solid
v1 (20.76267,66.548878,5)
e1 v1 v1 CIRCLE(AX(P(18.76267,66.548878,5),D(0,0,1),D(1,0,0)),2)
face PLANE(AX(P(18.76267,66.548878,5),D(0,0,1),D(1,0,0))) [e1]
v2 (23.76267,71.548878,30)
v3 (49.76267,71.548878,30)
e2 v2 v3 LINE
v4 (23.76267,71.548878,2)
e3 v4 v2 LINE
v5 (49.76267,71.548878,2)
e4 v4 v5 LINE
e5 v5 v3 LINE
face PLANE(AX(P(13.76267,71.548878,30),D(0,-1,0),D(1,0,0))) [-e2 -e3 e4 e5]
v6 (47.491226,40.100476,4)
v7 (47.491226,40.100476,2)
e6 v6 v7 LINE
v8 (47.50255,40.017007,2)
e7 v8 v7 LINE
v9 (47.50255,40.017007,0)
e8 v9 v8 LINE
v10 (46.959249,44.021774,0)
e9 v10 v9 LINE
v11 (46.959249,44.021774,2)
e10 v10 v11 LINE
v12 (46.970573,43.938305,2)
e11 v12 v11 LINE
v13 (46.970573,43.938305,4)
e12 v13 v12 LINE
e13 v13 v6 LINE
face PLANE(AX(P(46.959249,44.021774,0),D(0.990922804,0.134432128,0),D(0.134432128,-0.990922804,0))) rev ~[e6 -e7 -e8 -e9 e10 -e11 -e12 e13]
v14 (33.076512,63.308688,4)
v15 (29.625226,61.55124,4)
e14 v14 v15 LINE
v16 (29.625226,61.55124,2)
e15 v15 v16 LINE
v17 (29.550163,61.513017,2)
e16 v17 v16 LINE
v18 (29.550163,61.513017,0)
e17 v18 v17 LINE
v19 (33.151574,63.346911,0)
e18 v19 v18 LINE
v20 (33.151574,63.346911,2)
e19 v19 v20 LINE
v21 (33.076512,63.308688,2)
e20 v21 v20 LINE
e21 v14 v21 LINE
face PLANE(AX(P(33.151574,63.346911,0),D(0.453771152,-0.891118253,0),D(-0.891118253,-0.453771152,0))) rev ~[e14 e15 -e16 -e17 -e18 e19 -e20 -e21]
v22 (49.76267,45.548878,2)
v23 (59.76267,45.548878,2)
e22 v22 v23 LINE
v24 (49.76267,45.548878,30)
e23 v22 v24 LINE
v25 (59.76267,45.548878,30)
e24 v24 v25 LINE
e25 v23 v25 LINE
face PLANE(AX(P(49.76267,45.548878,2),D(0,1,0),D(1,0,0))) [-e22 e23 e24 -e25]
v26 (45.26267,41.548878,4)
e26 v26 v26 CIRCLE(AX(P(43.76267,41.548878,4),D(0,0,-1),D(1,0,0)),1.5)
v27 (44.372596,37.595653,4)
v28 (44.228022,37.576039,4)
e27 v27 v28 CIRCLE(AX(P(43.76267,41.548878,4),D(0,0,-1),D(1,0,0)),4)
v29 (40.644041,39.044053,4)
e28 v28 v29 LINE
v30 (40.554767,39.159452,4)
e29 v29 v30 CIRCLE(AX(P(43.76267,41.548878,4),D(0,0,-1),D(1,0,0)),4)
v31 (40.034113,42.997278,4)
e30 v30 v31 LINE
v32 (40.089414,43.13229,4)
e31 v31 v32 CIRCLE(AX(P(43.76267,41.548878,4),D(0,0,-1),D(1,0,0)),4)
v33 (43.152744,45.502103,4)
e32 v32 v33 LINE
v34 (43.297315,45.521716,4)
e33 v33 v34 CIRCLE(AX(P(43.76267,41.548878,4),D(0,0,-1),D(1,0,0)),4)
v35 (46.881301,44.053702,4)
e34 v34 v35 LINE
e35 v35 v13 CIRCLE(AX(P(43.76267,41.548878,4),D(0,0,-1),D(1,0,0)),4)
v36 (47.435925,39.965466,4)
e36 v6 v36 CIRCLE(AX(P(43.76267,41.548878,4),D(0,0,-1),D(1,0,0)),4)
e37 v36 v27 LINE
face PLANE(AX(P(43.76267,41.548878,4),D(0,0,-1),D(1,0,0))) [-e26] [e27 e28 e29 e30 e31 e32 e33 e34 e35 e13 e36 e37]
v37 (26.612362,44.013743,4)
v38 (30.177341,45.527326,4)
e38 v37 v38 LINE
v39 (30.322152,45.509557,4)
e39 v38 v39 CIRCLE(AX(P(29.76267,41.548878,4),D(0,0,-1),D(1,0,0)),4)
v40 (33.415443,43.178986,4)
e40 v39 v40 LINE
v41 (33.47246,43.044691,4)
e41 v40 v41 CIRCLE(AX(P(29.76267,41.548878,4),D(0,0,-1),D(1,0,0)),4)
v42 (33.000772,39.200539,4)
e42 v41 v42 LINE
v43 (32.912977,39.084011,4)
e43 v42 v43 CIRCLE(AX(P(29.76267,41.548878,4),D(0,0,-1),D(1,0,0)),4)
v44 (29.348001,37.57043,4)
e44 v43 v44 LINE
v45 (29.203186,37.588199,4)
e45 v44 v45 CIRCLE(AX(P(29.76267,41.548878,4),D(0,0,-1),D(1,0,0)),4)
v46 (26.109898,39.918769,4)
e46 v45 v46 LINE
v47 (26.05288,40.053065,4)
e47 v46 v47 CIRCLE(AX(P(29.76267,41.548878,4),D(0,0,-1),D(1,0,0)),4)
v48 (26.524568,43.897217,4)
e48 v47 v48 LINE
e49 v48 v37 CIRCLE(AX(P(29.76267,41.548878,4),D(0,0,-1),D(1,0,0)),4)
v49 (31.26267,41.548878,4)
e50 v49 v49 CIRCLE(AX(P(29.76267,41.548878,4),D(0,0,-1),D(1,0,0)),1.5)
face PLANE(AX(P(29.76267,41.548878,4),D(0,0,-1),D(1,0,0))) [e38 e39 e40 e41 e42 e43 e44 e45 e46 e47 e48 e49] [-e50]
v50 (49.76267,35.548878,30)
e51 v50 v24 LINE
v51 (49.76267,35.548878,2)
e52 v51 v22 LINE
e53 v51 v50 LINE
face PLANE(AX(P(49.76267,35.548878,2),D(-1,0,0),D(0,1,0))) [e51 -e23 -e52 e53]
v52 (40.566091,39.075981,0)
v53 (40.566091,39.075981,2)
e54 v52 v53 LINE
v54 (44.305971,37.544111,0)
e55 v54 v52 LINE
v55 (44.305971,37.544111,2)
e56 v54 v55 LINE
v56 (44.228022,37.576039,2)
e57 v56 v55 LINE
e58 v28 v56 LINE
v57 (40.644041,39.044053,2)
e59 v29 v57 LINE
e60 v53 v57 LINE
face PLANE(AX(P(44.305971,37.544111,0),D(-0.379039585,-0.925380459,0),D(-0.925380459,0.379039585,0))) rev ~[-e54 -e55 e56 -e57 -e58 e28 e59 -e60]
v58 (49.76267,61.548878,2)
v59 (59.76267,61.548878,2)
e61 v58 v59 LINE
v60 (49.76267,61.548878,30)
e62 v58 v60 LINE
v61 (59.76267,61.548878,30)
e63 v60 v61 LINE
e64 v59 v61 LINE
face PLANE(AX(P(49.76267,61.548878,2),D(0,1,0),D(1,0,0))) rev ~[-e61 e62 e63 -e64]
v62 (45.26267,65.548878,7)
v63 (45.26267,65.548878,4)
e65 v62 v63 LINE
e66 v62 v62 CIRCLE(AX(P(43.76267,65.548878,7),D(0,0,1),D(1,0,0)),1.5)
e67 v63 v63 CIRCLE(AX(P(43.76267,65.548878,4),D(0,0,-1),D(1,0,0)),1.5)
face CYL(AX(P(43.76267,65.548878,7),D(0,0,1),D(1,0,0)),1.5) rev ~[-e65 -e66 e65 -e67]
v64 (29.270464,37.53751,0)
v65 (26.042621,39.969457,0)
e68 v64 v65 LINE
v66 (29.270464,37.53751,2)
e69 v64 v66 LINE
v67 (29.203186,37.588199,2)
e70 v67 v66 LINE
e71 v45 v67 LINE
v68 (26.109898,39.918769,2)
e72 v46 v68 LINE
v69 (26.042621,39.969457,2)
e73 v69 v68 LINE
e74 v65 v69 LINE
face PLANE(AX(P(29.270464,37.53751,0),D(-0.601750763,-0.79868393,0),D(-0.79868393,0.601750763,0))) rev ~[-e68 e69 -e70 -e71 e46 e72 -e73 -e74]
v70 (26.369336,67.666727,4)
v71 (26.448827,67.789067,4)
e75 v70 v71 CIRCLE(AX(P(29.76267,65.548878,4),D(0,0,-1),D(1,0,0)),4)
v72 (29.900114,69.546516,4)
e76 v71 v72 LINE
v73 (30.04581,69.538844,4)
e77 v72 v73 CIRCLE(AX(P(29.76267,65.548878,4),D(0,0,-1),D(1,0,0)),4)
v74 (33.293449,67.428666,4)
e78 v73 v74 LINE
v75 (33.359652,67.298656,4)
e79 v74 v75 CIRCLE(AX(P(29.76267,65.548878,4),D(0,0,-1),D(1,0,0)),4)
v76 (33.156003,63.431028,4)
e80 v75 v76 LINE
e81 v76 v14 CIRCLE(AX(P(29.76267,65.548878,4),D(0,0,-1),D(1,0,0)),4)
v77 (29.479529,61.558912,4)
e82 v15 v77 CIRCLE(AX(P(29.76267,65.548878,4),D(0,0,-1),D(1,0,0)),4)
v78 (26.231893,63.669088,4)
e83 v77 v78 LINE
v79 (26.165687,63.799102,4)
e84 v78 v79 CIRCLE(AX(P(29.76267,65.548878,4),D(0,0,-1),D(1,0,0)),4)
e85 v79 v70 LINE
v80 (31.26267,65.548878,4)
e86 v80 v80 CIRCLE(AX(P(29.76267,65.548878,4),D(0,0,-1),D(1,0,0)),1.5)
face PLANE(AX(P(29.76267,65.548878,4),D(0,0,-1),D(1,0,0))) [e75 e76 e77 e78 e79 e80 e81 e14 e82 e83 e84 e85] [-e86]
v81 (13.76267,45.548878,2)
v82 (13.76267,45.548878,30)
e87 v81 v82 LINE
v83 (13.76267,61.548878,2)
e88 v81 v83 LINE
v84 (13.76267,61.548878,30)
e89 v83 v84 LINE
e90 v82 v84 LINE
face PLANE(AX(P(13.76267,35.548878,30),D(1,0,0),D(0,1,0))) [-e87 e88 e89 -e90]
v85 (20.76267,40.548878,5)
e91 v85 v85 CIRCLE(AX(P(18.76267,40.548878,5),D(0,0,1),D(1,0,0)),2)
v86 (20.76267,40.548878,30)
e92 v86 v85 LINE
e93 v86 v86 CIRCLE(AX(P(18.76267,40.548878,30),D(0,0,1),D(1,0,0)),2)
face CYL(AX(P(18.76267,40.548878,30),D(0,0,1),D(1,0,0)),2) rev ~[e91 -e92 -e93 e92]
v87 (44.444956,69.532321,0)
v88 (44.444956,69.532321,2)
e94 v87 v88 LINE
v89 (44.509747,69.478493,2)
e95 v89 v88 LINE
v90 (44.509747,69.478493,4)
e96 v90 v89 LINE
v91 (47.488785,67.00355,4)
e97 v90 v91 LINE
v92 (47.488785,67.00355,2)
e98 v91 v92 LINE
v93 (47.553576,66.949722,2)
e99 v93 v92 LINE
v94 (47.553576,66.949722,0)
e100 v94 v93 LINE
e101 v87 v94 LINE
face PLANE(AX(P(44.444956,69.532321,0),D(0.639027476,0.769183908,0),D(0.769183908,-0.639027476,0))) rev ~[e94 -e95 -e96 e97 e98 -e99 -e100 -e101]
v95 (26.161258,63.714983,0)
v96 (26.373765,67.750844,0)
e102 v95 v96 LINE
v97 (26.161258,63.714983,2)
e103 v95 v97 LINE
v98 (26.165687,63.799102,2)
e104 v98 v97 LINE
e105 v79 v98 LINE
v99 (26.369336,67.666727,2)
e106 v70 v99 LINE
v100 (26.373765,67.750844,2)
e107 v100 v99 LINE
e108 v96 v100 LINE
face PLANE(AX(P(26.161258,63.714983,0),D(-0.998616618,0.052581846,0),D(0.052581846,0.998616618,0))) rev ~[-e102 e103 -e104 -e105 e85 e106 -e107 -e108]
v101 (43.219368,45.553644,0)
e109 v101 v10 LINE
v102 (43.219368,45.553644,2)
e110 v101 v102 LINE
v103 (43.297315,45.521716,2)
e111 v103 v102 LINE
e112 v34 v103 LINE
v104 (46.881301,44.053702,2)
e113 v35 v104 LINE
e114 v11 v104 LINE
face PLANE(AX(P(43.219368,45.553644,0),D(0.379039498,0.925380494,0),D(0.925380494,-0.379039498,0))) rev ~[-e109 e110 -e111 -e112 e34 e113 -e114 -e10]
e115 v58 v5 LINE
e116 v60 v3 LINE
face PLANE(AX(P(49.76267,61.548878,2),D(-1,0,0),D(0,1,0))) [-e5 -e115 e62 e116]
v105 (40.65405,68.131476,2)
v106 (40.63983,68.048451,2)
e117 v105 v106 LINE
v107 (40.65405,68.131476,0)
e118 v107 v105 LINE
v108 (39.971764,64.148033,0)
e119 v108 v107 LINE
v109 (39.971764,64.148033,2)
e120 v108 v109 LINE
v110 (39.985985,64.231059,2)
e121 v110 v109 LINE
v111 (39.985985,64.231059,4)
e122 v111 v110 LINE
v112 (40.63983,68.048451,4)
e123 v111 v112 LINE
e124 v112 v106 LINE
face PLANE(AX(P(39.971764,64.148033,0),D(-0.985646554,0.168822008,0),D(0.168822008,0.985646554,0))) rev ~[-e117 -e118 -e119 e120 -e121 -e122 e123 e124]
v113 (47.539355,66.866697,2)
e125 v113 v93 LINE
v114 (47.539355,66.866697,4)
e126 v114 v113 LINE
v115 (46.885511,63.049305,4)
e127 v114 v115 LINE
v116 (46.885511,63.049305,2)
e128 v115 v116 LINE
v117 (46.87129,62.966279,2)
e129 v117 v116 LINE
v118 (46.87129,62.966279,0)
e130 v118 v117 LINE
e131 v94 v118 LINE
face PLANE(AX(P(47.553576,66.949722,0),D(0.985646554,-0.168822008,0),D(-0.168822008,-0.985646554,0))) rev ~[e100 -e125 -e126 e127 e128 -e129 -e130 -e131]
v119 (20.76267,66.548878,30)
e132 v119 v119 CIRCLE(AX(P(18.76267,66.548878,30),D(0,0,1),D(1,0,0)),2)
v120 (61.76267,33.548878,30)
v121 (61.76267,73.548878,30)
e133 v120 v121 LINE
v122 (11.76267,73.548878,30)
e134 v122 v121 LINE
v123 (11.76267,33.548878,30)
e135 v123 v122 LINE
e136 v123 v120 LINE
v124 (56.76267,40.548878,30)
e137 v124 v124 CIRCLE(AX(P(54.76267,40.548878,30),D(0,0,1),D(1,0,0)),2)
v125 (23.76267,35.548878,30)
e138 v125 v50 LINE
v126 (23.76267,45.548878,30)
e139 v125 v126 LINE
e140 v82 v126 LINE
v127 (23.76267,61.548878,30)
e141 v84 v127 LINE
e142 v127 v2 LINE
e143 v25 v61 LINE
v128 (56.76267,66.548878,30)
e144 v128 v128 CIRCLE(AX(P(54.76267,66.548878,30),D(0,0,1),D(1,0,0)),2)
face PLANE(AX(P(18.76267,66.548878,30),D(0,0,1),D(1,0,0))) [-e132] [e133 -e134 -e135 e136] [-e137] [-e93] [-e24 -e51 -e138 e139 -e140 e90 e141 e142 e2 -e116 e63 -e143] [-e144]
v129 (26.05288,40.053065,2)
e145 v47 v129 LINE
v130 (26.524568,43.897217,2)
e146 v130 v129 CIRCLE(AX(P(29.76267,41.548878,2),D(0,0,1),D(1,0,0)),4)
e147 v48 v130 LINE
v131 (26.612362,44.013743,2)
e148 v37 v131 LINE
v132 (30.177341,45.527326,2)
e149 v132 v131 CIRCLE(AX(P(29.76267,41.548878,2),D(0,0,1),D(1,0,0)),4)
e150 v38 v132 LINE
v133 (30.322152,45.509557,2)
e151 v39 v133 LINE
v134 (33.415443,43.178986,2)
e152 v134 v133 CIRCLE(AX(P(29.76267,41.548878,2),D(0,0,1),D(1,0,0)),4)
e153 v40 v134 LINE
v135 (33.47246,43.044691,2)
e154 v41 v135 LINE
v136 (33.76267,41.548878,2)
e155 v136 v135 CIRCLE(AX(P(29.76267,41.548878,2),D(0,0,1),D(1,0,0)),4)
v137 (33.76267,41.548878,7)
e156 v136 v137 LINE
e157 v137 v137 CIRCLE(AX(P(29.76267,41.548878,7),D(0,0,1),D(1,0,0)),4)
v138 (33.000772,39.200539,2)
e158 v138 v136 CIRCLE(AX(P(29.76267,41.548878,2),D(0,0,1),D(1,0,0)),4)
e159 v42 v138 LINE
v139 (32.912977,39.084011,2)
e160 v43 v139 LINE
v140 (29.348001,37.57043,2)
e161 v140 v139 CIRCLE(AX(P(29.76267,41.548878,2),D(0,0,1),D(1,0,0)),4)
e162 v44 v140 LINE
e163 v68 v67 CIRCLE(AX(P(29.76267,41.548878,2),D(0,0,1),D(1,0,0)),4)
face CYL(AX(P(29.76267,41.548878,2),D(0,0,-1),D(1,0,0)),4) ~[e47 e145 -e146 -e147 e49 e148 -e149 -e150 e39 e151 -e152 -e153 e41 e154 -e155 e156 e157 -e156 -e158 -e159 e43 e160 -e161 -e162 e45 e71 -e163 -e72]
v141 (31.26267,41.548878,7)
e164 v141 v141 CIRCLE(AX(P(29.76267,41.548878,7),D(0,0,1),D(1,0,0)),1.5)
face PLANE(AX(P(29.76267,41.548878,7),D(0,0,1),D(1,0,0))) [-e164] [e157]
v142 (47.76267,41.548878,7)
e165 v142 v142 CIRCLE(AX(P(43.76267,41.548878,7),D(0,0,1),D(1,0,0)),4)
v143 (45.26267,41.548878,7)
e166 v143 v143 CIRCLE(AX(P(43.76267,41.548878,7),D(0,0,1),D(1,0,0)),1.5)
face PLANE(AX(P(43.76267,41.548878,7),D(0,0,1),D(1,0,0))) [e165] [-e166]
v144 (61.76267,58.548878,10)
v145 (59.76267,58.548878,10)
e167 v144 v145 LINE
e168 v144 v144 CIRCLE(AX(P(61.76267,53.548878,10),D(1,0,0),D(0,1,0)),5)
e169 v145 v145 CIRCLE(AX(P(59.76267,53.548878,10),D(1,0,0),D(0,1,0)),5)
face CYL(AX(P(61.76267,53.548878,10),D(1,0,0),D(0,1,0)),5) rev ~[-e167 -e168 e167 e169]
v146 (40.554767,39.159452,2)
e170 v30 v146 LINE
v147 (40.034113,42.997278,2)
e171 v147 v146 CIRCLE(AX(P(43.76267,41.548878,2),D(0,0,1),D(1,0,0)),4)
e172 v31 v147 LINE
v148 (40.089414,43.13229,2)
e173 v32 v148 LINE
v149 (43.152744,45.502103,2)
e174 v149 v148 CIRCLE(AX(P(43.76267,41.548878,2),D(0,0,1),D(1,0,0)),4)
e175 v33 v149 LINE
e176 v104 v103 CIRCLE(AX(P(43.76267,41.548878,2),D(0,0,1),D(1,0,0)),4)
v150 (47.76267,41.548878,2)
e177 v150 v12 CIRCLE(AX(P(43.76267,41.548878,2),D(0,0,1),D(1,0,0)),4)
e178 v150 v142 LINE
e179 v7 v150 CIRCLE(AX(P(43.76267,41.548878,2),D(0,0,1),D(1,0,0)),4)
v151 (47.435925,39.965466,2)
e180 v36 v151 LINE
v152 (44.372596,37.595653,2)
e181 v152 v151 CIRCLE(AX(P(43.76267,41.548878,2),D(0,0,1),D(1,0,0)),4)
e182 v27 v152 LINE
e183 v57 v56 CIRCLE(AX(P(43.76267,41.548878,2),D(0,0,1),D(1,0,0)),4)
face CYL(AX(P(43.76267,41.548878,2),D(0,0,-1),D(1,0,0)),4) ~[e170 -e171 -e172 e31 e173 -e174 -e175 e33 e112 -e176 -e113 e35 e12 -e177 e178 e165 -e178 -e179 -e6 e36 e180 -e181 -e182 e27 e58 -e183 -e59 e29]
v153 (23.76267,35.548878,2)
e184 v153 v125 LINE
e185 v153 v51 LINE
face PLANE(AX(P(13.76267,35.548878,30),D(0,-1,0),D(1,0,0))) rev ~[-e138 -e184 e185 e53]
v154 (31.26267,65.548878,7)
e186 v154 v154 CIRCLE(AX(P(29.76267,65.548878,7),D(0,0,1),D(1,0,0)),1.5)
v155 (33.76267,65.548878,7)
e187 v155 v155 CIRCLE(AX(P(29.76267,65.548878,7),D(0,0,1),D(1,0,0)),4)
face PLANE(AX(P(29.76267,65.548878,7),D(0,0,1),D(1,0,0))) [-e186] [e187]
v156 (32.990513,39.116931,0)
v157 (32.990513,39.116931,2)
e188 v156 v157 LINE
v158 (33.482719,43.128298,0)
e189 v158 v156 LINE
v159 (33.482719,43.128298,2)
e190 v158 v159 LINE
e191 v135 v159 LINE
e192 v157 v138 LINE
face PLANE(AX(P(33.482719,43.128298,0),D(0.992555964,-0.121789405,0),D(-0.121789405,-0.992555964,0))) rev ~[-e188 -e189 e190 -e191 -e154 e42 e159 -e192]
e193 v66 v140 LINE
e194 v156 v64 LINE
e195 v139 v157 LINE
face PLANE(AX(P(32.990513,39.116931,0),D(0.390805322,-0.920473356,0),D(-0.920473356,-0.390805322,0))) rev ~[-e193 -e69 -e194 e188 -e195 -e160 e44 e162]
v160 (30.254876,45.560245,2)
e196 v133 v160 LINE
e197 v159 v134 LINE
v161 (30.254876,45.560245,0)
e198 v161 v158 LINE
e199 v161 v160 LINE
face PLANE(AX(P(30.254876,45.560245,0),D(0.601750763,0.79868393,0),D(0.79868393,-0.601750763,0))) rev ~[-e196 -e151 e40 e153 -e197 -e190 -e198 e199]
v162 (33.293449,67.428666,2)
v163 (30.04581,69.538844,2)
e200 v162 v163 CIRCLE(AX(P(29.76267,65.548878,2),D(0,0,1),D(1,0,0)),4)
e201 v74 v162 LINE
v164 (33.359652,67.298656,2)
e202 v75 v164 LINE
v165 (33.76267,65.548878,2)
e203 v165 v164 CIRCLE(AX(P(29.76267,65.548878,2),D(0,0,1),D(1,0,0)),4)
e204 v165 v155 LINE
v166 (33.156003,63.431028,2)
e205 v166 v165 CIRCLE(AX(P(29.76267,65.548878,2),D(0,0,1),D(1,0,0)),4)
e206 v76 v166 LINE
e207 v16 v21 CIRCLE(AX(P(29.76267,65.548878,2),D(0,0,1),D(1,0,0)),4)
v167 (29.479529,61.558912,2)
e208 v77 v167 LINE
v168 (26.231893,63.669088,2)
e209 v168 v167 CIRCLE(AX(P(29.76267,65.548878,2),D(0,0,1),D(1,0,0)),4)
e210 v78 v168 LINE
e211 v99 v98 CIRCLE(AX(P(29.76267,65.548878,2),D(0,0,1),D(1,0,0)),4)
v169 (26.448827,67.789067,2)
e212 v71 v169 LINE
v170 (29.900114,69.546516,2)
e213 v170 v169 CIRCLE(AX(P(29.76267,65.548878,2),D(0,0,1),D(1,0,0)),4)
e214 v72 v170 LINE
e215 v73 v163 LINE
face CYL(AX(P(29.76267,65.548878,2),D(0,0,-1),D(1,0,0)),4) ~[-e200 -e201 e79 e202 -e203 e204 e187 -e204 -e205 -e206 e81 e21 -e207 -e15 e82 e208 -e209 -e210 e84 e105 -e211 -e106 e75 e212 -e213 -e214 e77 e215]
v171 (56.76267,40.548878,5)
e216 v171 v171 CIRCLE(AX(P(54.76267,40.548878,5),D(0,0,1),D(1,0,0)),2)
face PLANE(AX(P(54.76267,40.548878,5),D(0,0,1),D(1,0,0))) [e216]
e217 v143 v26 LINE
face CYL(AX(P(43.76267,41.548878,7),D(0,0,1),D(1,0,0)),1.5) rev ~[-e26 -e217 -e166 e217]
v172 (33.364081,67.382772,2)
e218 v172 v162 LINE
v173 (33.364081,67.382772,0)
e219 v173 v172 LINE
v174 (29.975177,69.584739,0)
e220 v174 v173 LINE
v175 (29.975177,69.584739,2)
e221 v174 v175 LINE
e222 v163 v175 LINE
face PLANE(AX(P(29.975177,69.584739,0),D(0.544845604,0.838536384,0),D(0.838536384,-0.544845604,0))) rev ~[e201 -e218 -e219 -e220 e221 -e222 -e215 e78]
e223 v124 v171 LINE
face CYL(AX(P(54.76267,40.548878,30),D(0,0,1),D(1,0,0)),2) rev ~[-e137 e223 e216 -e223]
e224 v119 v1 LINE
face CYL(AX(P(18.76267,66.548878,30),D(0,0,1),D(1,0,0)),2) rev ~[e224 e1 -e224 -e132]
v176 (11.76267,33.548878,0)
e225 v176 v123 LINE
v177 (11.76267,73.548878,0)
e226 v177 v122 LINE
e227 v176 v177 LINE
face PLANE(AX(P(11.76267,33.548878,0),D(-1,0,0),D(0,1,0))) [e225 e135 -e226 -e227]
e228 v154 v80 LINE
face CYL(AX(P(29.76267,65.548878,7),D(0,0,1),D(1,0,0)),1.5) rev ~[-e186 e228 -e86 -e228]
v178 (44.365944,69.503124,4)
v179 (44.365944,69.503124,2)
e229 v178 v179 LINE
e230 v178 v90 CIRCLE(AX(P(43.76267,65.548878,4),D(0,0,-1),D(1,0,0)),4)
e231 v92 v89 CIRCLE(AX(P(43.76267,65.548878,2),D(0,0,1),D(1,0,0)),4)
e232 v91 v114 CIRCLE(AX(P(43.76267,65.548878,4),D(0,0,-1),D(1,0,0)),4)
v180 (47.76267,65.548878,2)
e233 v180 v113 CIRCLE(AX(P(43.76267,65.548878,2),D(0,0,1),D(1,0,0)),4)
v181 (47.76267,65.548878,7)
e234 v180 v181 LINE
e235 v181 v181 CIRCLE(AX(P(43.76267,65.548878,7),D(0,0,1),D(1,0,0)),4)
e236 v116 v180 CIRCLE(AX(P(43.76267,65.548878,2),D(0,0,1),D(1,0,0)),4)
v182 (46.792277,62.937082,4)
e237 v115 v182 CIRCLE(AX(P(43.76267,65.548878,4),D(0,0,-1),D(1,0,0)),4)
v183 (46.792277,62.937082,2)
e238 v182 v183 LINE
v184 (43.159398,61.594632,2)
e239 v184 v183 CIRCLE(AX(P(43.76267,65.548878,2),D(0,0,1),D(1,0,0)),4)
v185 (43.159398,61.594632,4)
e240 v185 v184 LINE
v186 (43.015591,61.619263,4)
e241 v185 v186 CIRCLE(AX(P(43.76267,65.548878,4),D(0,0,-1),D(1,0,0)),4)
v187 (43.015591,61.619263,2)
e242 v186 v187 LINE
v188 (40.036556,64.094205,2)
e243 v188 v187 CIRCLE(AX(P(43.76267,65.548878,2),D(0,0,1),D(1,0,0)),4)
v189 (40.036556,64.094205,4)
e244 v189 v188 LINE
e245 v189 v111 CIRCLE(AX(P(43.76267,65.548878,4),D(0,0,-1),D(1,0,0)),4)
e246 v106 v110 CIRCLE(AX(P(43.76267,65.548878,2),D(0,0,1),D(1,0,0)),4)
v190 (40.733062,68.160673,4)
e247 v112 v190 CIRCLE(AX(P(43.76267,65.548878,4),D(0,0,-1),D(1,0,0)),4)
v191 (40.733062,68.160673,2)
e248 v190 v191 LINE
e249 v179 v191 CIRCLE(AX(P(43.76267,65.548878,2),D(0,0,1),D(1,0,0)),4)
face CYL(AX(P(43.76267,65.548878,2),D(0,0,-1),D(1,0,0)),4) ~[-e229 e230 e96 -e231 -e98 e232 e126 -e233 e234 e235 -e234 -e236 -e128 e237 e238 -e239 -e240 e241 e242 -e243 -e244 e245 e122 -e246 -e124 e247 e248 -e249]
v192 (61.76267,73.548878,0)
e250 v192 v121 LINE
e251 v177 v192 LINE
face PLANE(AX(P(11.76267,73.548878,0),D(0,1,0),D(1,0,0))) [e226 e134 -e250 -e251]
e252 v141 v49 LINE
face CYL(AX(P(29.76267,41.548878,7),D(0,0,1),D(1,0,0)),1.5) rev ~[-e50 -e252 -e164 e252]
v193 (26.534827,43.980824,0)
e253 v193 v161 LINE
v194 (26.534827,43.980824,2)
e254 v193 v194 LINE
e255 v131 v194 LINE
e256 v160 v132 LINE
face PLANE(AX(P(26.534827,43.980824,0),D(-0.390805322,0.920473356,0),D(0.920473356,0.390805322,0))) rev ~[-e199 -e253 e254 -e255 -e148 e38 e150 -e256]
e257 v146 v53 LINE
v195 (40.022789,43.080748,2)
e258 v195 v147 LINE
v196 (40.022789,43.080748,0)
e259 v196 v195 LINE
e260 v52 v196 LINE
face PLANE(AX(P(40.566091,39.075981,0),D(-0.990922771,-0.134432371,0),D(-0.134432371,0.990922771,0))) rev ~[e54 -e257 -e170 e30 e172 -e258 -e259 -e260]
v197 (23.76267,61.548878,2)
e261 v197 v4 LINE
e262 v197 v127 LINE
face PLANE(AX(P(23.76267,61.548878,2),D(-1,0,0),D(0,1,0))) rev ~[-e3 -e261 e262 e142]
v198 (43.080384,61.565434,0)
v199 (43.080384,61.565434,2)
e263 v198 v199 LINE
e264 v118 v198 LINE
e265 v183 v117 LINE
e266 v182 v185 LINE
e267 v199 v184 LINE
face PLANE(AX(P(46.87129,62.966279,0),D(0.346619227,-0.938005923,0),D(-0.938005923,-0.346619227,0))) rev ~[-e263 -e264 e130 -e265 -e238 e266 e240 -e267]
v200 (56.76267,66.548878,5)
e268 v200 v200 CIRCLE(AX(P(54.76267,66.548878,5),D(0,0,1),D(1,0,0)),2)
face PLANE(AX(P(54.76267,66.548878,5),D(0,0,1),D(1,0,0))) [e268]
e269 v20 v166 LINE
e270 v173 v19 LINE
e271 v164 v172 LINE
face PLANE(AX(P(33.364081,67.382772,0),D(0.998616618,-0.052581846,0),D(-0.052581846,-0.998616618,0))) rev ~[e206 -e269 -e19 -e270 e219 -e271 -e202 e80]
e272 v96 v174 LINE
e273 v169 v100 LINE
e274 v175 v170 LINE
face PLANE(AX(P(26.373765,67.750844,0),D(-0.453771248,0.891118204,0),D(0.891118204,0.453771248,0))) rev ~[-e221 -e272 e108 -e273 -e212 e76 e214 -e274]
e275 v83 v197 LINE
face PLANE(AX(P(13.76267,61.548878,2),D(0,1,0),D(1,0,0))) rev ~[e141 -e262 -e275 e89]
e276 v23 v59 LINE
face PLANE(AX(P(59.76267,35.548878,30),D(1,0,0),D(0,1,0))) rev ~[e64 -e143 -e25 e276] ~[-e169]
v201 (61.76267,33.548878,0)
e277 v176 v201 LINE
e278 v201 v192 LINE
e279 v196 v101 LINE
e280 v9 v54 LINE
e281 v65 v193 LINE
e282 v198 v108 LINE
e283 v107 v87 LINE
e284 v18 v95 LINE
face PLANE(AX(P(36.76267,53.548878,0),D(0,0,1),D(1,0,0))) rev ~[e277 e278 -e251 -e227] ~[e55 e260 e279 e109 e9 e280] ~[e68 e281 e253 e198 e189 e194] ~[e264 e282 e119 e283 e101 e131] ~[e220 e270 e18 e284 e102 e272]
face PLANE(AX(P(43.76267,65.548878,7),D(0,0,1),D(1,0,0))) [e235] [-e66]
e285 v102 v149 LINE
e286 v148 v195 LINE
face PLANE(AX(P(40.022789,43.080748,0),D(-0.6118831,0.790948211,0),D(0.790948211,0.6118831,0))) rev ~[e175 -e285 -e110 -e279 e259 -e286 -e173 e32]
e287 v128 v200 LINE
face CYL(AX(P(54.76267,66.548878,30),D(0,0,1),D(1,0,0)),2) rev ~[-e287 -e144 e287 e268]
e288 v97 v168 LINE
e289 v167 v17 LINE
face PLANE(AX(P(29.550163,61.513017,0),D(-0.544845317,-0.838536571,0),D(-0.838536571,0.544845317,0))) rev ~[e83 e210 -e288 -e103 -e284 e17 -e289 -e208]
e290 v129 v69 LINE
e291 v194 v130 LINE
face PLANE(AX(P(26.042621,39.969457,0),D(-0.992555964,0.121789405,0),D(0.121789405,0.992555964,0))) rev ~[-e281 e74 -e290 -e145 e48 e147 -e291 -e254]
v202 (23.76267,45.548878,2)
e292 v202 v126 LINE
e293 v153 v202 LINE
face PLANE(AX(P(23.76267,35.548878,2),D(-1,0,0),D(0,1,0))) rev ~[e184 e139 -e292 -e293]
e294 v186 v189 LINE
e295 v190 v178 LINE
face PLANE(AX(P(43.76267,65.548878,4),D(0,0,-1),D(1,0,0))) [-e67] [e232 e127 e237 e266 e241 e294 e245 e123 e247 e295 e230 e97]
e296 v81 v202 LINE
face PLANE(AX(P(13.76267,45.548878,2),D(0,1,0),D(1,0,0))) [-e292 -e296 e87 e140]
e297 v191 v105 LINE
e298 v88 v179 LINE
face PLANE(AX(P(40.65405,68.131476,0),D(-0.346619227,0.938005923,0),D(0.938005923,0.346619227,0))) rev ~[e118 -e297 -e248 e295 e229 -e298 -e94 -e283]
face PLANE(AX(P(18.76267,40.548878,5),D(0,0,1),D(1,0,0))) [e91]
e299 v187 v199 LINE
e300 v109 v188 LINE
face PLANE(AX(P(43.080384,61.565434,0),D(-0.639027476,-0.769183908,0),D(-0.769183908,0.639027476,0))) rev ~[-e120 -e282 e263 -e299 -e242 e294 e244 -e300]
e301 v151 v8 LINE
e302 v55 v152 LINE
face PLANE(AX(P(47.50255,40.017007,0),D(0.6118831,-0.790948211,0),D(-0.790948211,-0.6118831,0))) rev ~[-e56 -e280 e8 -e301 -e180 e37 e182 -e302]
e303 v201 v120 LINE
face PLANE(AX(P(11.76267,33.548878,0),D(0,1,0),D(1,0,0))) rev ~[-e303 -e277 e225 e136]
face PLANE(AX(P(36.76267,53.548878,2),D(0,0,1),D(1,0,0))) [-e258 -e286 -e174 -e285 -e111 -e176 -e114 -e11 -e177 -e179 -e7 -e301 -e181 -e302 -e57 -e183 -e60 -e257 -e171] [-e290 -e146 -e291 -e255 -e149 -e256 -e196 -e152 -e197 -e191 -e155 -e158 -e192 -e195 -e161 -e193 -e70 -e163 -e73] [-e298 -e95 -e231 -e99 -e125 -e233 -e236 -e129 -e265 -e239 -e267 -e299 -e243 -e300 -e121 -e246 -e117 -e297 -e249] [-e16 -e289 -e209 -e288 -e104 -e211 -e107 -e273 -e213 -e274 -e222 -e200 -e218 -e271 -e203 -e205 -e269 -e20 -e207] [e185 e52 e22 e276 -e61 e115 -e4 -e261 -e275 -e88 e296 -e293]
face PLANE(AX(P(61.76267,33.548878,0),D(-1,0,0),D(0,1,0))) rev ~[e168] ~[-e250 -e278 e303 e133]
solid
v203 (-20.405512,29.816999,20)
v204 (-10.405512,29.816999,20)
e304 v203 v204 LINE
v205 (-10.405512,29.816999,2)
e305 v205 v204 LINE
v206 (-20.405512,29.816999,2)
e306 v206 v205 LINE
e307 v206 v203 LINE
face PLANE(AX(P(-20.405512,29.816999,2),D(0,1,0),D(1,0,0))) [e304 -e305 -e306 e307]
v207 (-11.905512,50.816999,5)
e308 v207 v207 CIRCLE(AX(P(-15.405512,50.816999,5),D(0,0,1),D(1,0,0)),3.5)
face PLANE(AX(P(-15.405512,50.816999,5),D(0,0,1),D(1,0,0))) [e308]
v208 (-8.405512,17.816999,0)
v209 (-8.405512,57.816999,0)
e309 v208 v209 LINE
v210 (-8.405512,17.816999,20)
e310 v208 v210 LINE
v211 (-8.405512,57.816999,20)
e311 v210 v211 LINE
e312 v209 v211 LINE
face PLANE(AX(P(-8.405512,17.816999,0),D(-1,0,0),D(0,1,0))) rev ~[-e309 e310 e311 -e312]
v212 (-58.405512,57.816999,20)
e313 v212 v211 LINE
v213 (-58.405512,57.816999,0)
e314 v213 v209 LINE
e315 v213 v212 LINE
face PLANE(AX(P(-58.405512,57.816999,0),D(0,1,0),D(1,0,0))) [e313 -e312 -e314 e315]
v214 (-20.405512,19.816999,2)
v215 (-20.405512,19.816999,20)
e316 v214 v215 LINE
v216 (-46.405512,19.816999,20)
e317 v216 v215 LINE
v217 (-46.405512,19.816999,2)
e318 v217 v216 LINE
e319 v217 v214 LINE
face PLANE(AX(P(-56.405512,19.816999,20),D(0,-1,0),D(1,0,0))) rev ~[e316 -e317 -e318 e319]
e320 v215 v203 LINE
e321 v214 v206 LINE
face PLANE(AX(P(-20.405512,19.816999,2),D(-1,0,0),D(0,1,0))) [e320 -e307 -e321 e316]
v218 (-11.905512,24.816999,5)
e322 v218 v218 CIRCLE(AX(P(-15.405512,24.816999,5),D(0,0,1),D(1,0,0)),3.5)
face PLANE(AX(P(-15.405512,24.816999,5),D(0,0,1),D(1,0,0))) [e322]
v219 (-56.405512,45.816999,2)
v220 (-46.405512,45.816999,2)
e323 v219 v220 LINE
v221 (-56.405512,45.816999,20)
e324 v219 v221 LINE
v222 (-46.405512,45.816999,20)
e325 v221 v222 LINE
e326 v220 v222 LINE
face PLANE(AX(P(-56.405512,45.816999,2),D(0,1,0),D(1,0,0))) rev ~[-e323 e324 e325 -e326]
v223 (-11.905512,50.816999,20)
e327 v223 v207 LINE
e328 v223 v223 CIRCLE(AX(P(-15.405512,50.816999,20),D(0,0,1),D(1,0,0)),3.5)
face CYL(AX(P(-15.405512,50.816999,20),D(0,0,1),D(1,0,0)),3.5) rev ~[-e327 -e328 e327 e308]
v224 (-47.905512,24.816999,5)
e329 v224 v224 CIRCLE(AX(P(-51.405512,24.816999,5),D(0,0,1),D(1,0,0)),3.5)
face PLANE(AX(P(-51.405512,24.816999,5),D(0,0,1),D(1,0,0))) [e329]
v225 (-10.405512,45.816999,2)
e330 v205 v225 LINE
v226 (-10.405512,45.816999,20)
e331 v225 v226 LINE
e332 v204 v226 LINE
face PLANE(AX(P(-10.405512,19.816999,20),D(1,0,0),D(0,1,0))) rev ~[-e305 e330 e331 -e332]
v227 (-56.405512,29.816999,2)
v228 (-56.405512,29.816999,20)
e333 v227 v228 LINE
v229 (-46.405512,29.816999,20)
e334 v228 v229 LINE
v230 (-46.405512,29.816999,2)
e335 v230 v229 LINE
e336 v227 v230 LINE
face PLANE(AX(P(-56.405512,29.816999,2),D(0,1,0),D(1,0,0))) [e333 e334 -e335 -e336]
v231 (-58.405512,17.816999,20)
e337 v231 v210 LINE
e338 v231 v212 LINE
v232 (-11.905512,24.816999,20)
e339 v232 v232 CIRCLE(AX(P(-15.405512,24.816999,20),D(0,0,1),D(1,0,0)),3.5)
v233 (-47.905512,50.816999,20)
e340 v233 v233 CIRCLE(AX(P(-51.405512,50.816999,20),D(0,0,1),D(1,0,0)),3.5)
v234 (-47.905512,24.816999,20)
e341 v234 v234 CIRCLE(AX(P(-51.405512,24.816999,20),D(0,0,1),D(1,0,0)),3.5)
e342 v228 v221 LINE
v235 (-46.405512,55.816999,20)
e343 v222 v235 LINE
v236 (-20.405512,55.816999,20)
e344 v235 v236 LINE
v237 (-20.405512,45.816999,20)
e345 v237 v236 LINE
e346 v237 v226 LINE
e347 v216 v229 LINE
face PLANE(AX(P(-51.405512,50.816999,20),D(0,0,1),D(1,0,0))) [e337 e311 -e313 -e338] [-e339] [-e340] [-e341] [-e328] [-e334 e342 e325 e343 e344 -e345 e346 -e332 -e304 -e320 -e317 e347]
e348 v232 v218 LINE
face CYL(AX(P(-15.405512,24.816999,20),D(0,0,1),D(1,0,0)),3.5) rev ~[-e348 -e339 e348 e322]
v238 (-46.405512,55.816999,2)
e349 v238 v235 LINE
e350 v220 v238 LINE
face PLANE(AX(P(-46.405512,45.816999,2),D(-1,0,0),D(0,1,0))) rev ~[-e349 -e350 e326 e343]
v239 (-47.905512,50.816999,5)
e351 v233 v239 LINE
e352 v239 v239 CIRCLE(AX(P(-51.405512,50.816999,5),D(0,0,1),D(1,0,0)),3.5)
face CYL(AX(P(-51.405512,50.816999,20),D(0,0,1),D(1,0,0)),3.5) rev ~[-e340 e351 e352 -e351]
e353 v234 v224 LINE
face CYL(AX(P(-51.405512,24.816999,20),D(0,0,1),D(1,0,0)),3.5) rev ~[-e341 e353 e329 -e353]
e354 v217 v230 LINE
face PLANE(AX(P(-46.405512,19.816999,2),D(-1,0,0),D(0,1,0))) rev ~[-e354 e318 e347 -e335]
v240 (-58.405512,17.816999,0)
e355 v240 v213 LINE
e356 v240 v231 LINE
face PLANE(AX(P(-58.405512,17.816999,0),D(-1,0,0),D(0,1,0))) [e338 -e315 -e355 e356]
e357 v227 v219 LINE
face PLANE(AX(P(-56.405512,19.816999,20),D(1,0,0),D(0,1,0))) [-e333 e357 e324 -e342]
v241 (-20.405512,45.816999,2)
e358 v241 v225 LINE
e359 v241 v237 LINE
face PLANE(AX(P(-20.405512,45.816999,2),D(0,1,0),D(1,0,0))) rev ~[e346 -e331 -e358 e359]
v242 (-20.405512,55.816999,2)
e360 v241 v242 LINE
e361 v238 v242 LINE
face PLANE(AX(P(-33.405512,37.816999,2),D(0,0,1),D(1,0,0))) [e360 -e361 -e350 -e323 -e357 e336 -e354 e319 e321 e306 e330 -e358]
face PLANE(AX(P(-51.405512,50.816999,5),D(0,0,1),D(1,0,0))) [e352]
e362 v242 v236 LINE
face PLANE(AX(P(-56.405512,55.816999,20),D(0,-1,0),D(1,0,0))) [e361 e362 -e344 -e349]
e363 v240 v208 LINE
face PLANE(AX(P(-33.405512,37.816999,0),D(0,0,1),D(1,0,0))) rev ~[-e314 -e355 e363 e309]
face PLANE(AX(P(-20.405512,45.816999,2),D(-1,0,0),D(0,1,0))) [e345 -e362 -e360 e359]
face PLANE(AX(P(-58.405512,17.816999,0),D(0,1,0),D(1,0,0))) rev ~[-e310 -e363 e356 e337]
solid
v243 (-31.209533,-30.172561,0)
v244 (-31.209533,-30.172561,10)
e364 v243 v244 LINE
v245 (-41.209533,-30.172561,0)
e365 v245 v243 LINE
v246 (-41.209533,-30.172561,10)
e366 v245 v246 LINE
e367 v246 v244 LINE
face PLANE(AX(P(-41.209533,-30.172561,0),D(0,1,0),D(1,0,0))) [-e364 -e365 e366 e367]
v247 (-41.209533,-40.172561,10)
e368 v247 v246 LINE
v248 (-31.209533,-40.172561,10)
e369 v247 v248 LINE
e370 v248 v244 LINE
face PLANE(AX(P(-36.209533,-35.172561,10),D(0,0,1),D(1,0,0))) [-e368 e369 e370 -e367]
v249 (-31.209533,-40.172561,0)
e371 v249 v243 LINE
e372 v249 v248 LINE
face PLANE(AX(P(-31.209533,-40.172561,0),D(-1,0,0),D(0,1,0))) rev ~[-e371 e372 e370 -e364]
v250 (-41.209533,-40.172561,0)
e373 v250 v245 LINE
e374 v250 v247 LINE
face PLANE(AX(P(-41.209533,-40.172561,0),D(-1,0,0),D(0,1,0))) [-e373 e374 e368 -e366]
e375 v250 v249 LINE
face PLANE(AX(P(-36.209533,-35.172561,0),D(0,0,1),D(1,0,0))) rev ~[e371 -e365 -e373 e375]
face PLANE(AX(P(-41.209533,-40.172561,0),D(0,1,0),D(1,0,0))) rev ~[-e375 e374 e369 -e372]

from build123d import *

# Parameters (mm, degrees)
F0_W      = 50
F0_H      = 40
F1_DEPTH  = 20
F2_W      = 46
F2_H      = 36
F3_DEPTH  = 18
F4_W      = 10
F4_H      = 10
F5_DEPTH  = 18
F6_R      = 3.5
F7_DEPTH  = 15
F8_W      = 10
F8_H      = 10
F9_DEPTH  = 10
F10_W     = 50
F10_H     = 40
F11_DEPTH = 30
F12_W     = 46
F12_H     = 36
F13_DEPTH = 28
F14_W     = 10
F14_H     = 10
F15_DEPTH = 28
F16_R     = 2
F17_DEPTH = 25
F18_R     = 4
F19_DEPTH = 5
F22_R     = 1.5
F23_R     = 1.5
F21_R     = 1.5
F20_R     = 1.5
F24_DEPTH = 10
F25_R     = 1.5
F26_DEPTH = 4
F27_R     = 5
F28_DEPTH = 2


with BuildPart() as f1:
    # F0 (on Top) → F1 (new body)
    with BuildSketch(Plane.XY):
        with Locations((-33.405512, 37.816999)):
            Rectangle(F0_W, F0_H)
    extrude(amount=F1_DEPTH)

    # F2 (on face) → F3 (cut)
    with BuildSketch(Plane.XY.offset(20)):
        with Locations((-33.405512, 37.816999)):
            Rectangle(F2_W, F2_H)
    extrude(amount=-F3_DEPTH, mode=Mode.SUBTRACT)

    # F4 (on face) → F5 (join)
    with BuildSketch(Plane.XY.offset(2)):
        with Locations((-51.405512, 50.816999)):
            Rectangle(F4_W, F4_H)
        with Locations((-15.405512, 50.816999)):
            Rectangle(F4_W, F4_H)
        with Locations((-15.405512, 24.816999)):
            Rectangle(F4_W, F4_H)
        with Locations((-51.405512, 24.816999)):
            Rectangle(F4_W, F4_H)
    extrude(amount=F5_DEPTH)

    # F6 (on face) → F7 (cut)
    with BuildSketch(Plane.XY.offset(20)):
        with Locations((-51.405512, 50.816999)):
            Circle(F6_R)
        with Locations((-15.405512, 50.816999)):
            Circle(F6_R)
        with Locations((-15.405512, 24.816999)):
            Circle(F6_R)
        with Locations((-51.405512, 24.816999)):
            Circle(F6_R)
    extrude(amount=-F7_DEPTH, mode=Mode.SUBTRACT)


with BuildPart() as f9:
    # F8 (on Top) → F9 (new body)
    with BuildSketch(Plane.XY):
        with Locations((-36.209533, -35.172561)):
            Rectangle(F8_W, F8_H)
    extrude(amount=F9_DEPTH)


with BuildPart() as f11:
    # F10 (on Top) → F11 (new body)
    with BuildSketch(Plane.XY):
        with Locations((36.76267, 53.548878)):
            Rectangle(F10_W, F10_H)
    extrude(amount=F11_DEPTH)

    # F12 (on face) → F13 (cut)
    with BuildSketch(Plane.XY.offset(30)):
        with Locations((36.76267, 53.548878)):
            Rectangle(F12_W, F12_H)
    extrude(amount=-F13_DEPTH, mode=Mode.SUBTRACT)

    # F14 (on face) → F15 (join)
    with BuildSketch(Plane.XY.offset(2)):
        with Locations((18.76267, 66.548878)):
            Rectangle(F14_W, F14_H)
        with Locations((18.76267, 40.548878)):
            Rectangle(F14_W, F14_H)
        with Locations((54.76267, 66.548878)):
            Rectangle(F14_W, F14_H)
        with Locations((54.76267, 40.548878)):
            Rectangle(F14_W, F14_H)
    extrude(amount=F15_DEPTH)

    # F16 (on face) → F17 (cut)
    with BuildSketch(Plane.XY.offset(30)):
        with Locations((18.76267, 66.548878)):
            Circle(F16_R)
        with Locations((54.76267, 66.548878)):
            Circle(F16_R)
        with Locations((54.76267, 40.548878)):
            Circle(F16_R)
        with Locations((18.76267, 40.548878)):
            Circle(F16_R)
    extrude(amount=-F17_DEPTH, mode=Mode.SUBTRACT)

    # F18 (on face) → F19 (join)
    with BuildSketch(Plane.XY.offset(2)):
        with Locations((29.76267, 65.548878)):
            Circle(F18_R)
        with Locations((43.76267, 65.548878)):
            Circle(F18_R)
        with Locations((29.76267, 41.548878)):
            Circle(F18_R)
        with Locations((43.76267, 41.548878)):
            Circle(F18_R)
    extrude(amount=F19_DEPTH)

    # F22 (on face) + F23 (on face) + F21 (on face) + F20 (on face) → F24 (cut)
    with BuildSketch(Plane.XY.offset(7)):
        with Locations((29.76267, 65.548878)):
            Circle(F22_R)
    with BuildSketch(Plane.XY.offset(7)):
        with Locations((43.76267, 65.548878)):
            Circle(F23_R)
    with BuildSketch(Plane.XY.offset(7)):
        with Locations((43.76267, 41.548878)):
            Circle(F21_R)
    with BuildSketch(Plane.XY.offset(7)):
        with Locations((29.76267, 41.548878)):
            Circle(F20_R)
    extrude(amount=-F24_DEPTH, mode=Mode.SUBTRACT)

    # F25 (on face) → F26 (cut)
    with BuildSketch(Plane(origin=(0, 0, 0), x_dir=(1, 0, 0), z_dir=(0, 0, -1))):
        Polygon((33.482719, -43.128298), (32.990513, -39.116931), (29.270464, -37.53751), (26.042621, -39.969457), (26.534827, -43.980824), (30.254876, -45.560245), align=None)
        with Locations((29.76267, -41.548878)):
            Circle(F25_R, mode=Mode.SUBTRACT)
        Polygon((40.566091, -39.075981), (40.022789, -43.080748), (43.219368, -45.553644), (46.959249, -44.021774), (47.50255, -40.017007), (44.305971, -37.544111), align=None)
        with Locations((43.76267, -41.548878)):
            Circle(F25_R, mode=Mode.SUBTRACT)
        Polygon((43.080384, -61.565434), (39.971764, -64.148033), (40.65405, -68.131476), (44.444956, -69.532321), (47.553576, -66.949722), (46.87129, -62.966279), align=None)
        with Locations((43.76267, -65.548878)):
            Circle(F25_R, mode=Mode.SUBTRACT)
        Polygon((29.550163, -61.513017), (26.161258, -63.714983), (26.373765, -67.750844), (29.975177, -69.584739), (33.364081, -67.382772), (33.151574, -63.346911), align=None)
        with Locations((29.76267, -65.548878)):
            Circle(F25_R, mode=Mode.SUBTRACT)
    extrude(amount=-F26_DEPTH, mode=Mode.SUBTRACT)

    # F27 (on face) → F28 (cut)
    with BuildSketch(Plane.YZ.offset(61.76267)):
        with Locations((53.548878, 10)):
            Circle(F27_R)
    extrude(amount=-F28_DEPTH, mode=Mode.SUBTRACT)


solid = Compound([f1.part, f9.part, f11.part])
